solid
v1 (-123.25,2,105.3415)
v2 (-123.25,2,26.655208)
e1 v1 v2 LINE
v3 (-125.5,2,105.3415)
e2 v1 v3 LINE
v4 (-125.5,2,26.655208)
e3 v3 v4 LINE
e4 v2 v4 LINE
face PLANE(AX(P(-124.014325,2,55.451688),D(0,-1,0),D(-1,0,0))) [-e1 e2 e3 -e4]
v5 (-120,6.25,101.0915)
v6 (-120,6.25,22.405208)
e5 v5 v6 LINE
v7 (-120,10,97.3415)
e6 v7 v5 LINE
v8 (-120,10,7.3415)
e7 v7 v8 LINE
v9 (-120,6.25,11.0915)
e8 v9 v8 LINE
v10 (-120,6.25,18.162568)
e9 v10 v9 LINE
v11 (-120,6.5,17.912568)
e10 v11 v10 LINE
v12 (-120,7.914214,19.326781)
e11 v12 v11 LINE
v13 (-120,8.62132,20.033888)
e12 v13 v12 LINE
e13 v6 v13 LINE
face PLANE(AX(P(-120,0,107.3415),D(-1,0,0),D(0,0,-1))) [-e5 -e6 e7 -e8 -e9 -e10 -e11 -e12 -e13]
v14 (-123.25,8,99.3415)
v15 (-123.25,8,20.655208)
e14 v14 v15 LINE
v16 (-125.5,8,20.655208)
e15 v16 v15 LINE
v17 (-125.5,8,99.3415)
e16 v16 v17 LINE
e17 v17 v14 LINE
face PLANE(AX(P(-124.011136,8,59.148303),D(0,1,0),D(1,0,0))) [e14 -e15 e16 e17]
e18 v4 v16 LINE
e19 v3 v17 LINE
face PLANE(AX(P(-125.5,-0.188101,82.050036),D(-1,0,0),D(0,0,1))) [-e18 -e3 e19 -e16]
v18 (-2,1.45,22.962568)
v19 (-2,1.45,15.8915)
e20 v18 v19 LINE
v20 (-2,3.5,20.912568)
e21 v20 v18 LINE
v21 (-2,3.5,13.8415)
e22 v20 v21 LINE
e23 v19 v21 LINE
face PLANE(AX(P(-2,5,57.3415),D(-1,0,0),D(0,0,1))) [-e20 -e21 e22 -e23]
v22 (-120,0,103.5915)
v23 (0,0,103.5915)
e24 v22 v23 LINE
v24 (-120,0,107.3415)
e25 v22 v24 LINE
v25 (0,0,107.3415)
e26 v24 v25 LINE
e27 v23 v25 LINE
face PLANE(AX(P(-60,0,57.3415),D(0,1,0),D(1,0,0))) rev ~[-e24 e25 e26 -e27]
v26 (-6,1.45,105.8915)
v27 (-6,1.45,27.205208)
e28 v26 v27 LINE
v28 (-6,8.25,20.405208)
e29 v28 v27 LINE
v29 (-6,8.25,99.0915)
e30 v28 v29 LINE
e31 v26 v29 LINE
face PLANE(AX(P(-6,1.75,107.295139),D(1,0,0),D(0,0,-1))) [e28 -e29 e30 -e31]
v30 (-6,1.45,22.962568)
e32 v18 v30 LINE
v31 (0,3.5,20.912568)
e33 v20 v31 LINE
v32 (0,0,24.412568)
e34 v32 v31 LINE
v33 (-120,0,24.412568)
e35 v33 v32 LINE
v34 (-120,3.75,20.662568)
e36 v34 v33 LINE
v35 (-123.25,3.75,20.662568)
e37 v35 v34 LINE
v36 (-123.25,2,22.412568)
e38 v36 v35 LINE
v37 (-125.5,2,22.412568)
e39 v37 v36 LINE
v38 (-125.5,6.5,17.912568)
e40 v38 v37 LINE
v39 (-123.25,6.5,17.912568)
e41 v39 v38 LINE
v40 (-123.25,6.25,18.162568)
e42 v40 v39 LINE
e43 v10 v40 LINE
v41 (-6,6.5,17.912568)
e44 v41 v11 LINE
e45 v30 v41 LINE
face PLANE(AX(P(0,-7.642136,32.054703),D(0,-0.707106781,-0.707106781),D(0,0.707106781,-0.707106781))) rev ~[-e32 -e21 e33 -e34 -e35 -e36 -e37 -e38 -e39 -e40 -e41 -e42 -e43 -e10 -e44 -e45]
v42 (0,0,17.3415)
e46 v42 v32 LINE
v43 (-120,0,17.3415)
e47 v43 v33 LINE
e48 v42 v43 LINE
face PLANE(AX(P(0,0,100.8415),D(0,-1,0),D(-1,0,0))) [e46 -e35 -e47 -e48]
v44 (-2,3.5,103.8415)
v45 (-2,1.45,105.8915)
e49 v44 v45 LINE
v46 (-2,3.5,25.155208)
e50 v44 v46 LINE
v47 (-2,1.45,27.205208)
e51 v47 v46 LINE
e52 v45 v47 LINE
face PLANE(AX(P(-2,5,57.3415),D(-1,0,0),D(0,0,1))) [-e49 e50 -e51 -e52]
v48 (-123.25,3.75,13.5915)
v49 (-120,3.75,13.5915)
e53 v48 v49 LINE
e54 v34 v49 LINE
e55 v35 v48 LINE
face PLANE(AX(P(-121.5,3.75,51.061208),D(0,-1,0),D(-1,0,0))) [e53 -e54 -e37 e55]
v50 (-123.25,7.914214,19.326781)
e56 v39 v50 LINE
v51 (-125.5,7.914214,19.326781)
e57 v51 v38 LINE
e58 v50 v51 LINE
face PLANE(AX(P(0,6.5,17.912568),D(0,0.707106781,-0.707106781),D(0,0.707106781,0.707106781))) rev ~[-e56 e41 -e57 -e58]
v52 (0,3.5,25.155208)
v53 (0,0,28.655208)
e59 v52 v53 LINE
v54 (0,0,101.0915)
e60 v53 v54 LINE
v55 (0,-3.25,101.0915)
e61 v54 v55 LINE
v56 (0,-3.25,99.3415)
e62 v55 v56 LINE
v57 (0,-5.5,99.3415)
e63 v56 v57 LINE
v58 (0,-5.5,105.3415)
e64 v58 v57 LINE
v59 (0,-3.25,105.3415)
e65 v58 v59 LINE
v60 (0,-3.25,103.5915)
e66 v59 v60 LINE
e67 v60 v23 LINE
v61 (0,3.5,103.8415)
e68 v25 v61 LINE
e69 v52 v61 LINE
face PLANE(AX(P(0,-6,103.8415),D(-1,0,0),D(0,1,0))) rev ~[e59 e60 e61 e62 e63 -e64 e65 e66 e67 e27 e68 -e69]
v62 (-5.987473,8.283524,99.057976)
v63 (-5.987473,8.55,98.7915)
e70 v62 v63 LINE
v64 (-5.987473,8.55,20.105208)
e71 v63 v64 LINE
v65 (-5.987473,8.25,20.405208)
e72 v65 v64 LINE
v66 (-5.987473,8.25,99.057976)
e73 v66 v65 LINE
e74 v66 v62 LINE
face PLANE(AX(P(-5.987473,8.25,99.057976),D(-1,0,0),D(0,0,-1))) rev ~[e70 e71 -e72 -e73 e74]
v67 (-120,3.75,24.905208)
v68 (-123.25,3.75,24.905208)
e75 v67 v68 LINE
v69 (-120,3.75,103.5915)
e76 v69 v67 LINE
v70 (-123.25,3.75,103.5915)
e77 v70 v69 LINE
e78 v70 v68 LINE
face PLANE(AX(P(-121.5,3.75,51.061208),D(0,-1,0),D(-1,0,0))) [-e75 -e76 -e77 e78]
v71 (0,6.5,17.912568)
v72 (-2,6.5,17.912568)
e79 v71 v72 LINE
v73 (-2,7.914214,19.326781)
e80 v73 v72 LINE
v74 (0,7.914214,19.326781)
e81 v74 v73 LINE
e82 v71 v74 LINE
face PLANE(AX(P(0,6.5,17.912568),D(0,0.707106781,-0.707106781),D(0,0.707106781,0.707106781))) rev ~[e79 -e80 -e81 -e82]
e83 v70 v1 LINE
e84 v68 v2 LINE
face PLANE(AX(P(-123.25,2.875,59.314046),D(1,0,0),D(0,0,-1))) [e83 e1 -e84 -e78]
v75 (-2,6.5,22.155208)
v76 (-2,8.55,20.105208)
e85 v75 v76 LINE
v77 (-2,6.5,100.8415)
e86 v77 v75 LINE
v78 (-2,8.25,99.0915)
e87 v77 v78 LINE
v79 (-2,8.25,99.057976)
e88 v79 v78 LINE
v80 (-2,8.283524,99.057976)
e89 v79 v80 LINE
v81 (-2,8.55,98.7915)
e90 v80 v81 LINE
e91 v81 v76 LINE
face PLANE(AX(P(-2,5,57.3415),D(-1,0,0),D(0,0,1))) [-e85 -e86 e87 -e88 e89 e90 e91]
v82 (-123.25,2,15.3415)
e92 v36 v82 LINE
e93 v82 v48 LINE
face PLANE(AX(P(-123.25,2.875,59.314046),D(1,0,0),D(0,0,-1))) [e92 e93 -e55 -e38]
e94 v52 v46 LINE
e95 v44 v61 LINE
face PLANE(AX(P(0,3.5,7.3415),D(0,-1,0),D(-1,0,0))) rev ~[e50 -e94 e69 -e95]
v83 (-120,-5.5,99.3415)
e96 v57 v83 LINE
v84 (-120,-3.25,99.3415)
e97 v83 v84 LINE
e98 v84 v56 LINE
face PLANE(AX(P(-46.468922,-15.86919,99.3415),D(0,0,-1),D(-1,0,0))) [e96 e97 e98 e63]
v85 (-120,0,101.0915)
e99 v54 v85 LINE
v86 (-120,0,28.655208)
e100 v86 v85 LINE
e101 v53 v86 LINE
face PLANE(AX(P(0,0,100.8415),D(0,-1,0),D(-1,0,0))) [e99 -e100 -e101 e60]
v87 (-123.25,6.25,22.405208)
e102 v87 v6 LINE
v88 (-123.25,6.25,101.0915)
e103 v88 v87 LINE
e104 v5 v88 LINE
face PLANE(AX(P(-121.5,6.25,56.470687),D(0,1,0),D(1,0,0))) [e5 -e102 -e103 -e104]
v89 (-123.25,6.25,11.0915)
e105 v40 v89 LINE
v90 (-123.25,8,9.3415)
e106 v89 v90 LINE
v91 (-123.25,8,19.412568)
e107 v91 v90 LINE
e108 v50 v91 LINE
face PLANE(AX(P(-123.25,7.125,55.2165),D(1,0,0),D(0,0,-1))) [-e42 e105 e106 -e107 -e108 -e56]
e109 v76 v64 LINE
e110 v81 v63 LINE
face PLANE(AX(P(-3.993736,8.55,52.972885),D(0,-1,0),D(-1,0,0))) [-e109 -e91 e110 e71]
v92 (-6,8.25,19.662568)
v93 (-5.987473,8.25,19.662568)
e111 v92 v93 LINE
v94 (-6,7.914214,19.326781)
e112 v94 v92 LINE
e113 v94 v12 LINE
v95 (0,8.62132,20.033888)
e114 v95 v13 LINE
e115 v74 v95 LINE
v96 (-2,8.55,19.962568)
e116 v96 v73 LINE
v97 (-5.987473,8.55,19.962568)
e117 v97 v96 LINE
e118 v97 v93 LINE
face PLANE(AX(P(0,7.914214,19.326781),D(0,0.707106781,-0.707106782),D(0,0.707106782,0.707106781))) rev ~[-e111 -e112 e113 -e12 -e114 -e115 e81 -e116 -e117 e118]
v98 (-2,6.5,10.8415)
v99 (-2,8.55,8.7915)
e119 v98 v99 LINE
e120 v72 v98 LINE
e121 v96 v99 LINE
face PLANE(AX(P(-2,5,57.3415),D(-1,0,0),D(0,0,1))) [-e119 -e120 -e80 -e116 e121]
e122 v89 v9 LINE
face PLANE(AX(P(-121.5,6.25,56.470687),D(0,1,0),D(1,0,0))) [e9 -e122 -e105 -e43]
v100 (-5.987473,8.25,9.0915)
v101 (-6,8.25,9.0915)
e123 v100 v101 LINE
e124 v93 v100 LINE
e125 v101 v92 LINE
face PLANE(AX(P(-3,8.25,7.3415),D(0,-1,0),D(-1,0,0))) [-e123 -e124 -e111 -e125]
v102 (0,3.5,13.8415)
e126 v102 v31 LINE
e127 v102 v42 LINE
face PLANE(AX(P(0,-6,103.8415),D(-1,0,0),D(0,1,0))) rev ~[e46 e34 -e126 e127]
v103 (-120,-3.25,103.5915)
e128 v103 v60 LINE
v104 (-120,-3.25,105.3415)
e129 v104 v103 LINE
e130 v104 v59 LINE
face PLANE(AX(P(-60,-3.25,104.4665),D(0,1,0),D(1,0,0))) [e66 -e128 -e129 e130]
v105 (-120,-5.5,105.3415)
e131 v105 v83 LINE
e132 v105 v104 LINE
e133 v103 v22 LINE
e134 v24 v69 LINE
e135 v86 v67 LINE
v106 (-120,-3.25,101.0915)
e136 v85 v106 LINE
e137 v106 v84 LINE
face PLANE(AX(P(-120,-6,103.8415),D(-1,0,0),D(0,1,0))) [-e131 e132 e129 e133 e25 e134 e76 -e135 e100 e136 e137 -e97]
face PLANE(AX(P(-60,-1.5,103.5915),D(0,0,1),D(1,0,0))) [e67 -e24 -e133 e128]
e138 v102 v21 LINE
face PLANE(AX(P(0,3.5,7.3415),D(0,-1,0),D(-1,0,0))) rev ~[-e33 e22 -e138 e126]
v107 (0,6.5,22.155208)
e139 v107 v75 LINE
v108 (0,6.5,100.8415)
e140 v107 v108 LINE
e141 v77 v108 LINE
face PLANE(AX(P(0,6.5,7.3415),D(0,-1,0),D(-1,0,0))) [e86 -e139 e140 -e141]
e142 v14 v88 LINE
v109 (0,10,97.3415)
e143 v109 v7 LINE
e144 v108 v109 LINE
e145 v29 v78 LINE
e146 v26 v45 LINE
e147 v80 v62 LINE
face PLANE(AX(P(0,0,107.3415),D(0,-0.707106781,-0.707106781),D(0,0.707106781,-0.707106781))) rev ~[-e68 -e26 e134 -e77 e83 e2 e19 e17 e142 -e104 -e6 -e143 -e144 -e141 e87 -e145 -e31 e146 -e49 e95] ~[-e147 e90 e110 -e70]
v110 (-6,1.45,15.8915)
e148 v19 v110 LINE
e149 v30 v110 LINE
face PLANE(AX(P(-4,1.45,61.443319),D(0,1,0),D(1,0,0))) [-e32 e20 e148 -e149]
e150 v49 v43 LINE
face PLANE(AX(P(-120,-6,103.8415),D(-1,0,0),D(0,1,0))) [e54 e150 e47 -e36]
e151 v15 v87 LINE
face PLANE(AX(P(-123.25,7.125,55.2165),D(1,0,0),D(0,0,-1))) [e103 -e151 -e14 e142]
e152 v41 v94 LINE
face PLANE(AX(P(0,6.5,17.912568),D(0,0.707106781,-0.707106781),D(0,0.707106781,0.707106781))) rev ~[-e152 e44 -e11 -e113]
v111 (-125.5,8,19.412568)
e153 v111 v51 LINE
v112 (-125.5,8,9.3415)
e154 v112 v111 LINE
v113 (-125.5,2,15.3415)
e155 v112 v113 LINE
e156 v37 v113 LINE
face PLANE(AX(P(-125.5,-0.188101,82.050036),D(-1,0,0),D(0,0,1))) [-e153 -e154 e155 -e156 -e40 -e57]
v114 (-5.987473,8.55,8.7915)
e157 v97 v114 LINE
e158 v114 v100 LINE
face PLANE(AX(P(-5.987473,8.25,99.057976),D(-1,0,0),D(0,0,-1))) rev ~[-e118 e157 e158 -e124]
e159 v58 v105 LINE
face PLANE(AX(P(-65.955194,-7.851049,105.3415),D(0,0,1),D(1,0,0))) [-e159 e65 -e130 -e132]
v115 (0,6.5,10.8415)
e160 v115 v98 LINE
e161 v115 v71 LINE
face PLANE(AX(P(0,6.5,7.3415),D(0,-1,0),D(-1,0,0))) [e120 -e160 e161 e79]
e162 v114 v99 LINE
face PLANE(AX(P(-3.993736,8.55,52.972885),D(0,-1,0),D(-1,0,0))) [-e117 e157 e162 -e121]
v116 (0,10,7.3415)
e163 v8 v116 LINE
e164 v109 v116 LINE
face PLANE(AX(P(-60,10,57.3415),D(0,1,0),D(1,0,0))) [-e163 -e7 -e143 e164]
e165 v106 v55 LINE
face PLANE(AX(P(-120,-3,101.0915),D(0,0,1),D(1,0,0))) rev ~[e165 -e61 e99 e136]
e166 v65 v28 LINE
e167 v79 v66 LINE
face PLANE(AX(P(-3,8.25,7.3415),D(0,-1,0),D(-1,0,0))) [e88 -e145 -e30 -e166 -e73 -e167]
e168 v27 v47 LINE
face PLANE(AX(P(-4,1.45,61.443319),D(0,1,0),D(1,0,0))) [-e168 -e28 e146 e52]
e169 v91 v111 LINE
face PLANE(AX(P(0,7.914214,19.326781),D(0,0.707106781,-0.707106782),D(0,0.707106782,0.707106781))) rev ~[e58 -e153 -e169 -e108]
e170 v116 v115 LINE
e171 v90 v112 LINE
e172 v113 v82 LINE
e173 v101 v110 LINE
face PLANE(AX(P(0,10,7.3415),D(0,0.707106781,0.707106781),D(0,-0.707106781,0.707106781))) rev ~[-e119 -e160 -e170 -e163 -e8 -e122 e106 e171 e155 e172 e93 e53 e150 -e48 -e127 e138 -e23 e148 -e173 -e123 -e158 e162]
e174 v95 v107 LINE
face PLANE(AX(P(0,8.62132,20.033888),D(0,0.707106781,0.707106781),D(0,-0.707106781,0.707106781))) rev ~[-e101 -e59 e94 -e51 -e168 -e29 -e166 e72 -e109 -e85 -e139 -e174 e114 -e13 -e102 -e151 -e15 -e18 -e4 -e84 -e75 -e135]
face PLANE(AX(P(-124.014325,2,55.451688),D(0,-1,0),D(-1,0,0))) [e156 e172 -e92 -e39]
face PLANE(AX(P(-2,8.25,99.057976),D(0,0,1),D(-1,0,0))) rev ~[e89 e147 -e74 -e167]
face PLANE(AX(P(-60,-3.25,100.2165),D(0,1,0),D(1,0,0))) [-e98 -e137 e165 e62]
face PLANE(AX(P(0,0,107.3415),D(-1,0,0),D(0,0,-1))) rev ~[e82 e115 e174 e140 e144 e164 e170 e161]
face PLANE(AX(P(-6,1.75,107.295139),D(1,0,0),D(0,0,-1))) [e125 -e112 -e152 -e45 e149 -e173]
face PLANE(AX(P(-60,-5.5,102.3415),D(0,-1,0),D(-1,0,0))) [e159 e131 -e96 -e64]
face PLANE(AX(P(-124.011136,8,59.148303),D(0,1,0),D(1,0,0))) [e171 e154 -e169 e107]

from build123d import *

# Parameters (mm, degrees)
SKETCH1_W           = 120
SKETCH1_H           = 100
BOSS_EXTRUDE1_DEPTH = 10
SKETCH2_W           = 6
SKETCH2_H           = 3
CUT_EXTRUDE1_DEPTH  = 120
SKETCH3_W           = 3
SKETCH3_H           = 1.75
CUT_EXTRUDE2_DEPTH  = 120
SKETCH4_W           = 3
SKETCH4_H           = 1.75
CUT_EXTRUDE3_DEPTH  = 120
SKETCH5_W           = 100
SKETCH5_H           = 3
BOSS_EXTRUDE2_DEPTH = 6
SKETCH6_W           = 3
SKETCH6_H           = 100
BOSS_EXTRUDE3_DEPTH = 1.75
SKETCH8_W           = 3
SKETCH8_H           = 100
BOSS_EXTRUDE4_DEPTH = 1.75
CUT_EXTRUDE4_DEPTH  = 140
CUT_EXTRUDE5_DEPTH  = 140
SKETCH12_W          = 120
SKETCH12_H          = 3
BOSS_EXTRUDE5_DEPTH = 6
SKETCH13_W          = 120
SKETCH13_H          = 3
BOSS_EXTRUDE6_DEPTH = 1.75
SKETCH14_W          = 120
SKETCH14_H          = 3
BOSS_EXTRUDE7_DEPTH = 1.75
SKETCH15_W          = 3.971349668
SKETCH15_H          = 100.27962334
CUT_EXTRUDE7_DEPTH  = 0.25
SKETCH16_W          = 3.977727367
SKETCH16_H          = 100.113606744
CUT_EXTRUDE8_DEPTH  = 0.25
SKETCH18_W          = 99.392543401
SKETCH18_H          = 7.459446395
CUT_EXTRUDE9_DEPTH  = 0.25
SKETCH19_W          = 3
SKETCH19_H          = 91.258373497
CUT_EXTRUDE10_DEPTH = 0.25
SKETCH22_W          = 3
SKETCH22_H          = 105.56058455
CUT_EXTRUDE11_DEPTH = 0.25
SKETCH23_W          = 145.417072626
SKETCH23_H          = 16.376201687
CUT_EXTRUDE12_DEPTH = 0.25
SKETCH24_W          = 92.054908244
SKETCH24_H          = 1.75
CUT_EXTRUDE13_DEPTH = 0.25
SKETCH25_W          = 91.75
SKETCH25_H          = 1.75
CUT_EXTRUDE14_DEPTH = 0.25
SKETCH27_W          = 146.123968395
SKETCH27_H          = 10.969132505
CUT_EXTRUDE15_DEPTH = 0.25
SKETCH28_W          = 131.910387722
SKETCH28_H          = 9.70209764
CUT_EXTRUDE16_DEPTH = 0.25
SKETCH29_W          = 147.06215687
SKETCH29_H          = 25.738379838
CUT_EXTRUDE17_DEPTH = 0.25
SKETCH30_W          = 120
SKETCH30_H          = 3
CUT_EXTRUDE18_DEPTH = 0.25
SKETCH31_W          = 120
SKETCH31_H          = 3
CUT_EXTRUDE19_DEPTH = 0.25
SKETCH32_W          = 120
SKETCH32_H          = 1.75
CUT_EXTRUDE20_DEPTH = 0.25
SKETCH33_W          = 120
SKETCH33_H          = 1.75
CUT_EXTRUDE21_DEPTH = 0.25
SKETCH36_W          = 96.5
SKETCH36_H          = 6.5
CUT_EXTRUDE23_DEPTH = 0.5
SKETCH39_W          = 96.5
SKETCH39_H          = 6.5
CUT_EXTRUDE27_DEPTH = 0.5
SKETCH41_W          = 4
SKETCH41_H          = 91.70363903
CUT_EXTRUDE28_DEPTH = 0.3
SKETCH42_W          = 3.987472746
SKETCH42_H          = 92.170181705
CUT_EXTRUDE29_DEPTH = 0.3
CUT_EXTRUDE30_DEPTH = 150
SKETCH44_W          = 120
SKETCH44_H          = 6
CUT_EXTRUDE31_DEPTH = 0.25
CUT_EXTRUDE32_DEPTH = 150


with BuildPart() as part:
    # Sketch1 → Boss-Extrude1 (new body)
    with BuildSketch(Plane(origin=(0, 0, 0), x_dir=(1, 0, 0), z_dir=(0, 1, 0))):
        with Locations((-60, -57.341499956)):
            Rectangle(SKETCH1_W, SKETCH1_H)
    extrude(amount=BOSS_EXTRUDE1_DEPTH)

    # Sketch2 → Cut-Extrude1 (cut)
    with BuildSketch(Plane(origin=(0, 0, 7.341499956), x_dir=(-1, 0, 0), z_dir=(0, 0, -1))):
        with Locations((3, 5)):
            Rectangle(SKETCH2_W, SKETCH2_H)
    extrude(amount=-CUT_EXTRUDE1_DEPTH, mode=Mode.SUBTRACT)

    # Sketch3 → Cut-Extrude2 (cut)
    with BuildSketch(Plane(origin=(0, 0, 7.341499956), x_dir=(-1, 0, 0), z_dir=(0, 0, -1))):
        with Locations((4.5, 7.375)):
            Rectangle(SKETCH3_W, SKETCH3_H)
    extrude(amount=-CUT_EXTRUDE2_DEPTH, mode=Mode.SUBTRACT)

    # Sketch4 → Cut-Extrude3 (cut)
    with BuildSketch(Plane(origin=(0, 0, 7.341499956), x_dir=(-1, 0, 0), z_dir=(0, 0, -1))):
        with Locations((4.5, 2.625)):
            Rectangle(SKETCH4_W, SKETCH4_H)
    extrude(amount=-CUT_EXTRUDE3_DEPTH, mode=Mode.SUBTRACT)

    # Sketch5 → Boss-Extrude2 (add)
    with BuildSketch(Plane.ZY.offset(120)):
        with Locations((57.341499956, 5)):
            Rectangle(SKETCH5_W, SKETCH5_H)
    extrude(amount=BOSS_EXTRUDE2_DEPTH)

    # Sketch6 → Boss-Extrude3 (add)
    with BuildSketch(Plane(origin=(0, 3.5, 0), x_dir=(-1, 0, 0), z_dir=(0, -1, 0))):
        with Locations((124.5, -57.341499956)):
            Rectangle(SKETCH6_W, SKETCH6_H)
    extrude(amount=BOSS_EXTRUDE3_DEPTH)

    # Sketch8 → Boss-Extrude4 (add)
    with BuildSketch(Plane(origin=(0, 6.5, 0), x_dir=(1, 0, 0), z_dir=(0, 1, 0))):
        with Locations((-124.5, -57.341499956)):
            Rectangle(SKETCH8_W, SKETCH8_H)
    extrude(amount=BOSS_EXTRUDE4_DEPTH)

    # Sketch9 → Cut-Extrude4 (cut)
    with BuildSketch(Plane(origin=(0, 0, 0), x_dir=(0, 0, -1), z_dir=(1, 0, 0))):
        Polygon((-7.341499956, 0), (-7.341499956, 10), (-17.341499956, 0), align=None)
    extrude(amount=-CUT_EXTRUDE4_DEPTH, mode=Mode.SUBTRACT)

    # Sketch10 → Cut-Extrude5 (cut)
    with BuildSketch(Plane(origin=(0, 0, 0), x_dir=(0, 0, -1), z_dir=(1, 0, 0))):
        Polygon((-107.341499956, 10), (-107.341499956, 0), (-97.341499956, 10), align=None)
    extrude(amount=-CUT_EXTRUDE5_DEPTH, mode=Mode.SUBTRACT)

    # Sketch12 → Boss-Extrude5 (add)
    with BuildSketch(Plane(origin=(0, 0, 0), x_dir=(-1, 0, 0), z_dir=(0, -1, 0))):
        with Locations((60, -102.341499956)):
            Rectangle(SKETCH12_W, SKETCH12_H)
    extrude(amount=BOSS_EXTRUDE5_DEPTH)

    # Sketch13 → Boss-Extrude6 (add)
    with BuildSketch(Plane(origin=(0, 0, 100.841499956), x_dir=(-1, 0, 0), z_dir=(0, 0, -1))):
        with Locations((60, -4.5)):
            Rectangle(SKETCH13_W, SKETCH13_H)
    extrude(amount=BOSS_EXTRUDE6_DEPTH)

    # Sketch14 → Boss-Extrude7 (add)
    with BuildSketch(Plane.XY.offset(103.841499956)):
        with Locations((-60, -4.5)):
            Rectangle(SKETCH14_W, SKETCH14_H)
    extrude(amount=BOSS_EXTRUDE7_DEPTH)

    # Sketch15 → Cut-Extrude7 (cut)
    with BuildSketch(Plane(origin=(0, 1.75, 0), x_dir=(-1, 0, 0), z_dir=(0, -1, 0))):
        with Locations((124.014325166, -55.451688286)):
            Rectangle(SKETCH15_W, SKETCH15_H)
    extrude(amount=-CUT_EXTRUDE7_DEPTH, mode=Mode.SUBTRACT)

    # Sketch16 → Cut-Extrude8 (cut)
    with BuildSketch(Plane(origin=(0, 8.25, 0), x_dir=(1, 0, 0), z_dir=(0, 1, 0))):
        with Locations((-124.011136317, -59.148303328)):
            Rectangle(SKETCH16_W, SKETCH16_H)
    extrude(amount=-CUT_EXTRUDE8_DEPTH, mode=Mode.SUBTRACT)

    # Sketch18 → Cut-Extrude9 (cut)
    with BuildSketch(Plane.ZY.offset(126)):
        with Locations((55.645228256, 5.729723198)):
            Rectangle(SKETCH18_W, SKETCH18_H)
    extrude(amount=-CUT_EXTRUDE9_DEPTH, mode=Mode.SUBTRACT)

    # Sketch19 → Cut-Extrude10 (cut)
    with BuildSketch(Plane(origin=(0, 6.5, 0), x_dir=(1, 0, 0), z_dir=(0, 1, 0))):
        with Locations((-121.5, -56.470686704)):
            Rectangle(SKETCH19_W, SKETCH19_H)
    extrude(amount=-CUT_EXTRUDE10_DEPTH, mode=Mode.SUBTRACT)

    # Sketch22 → Cut-Extrude11 (cut)
    with BuildSketch(Plane(origin=(0, 3.5, 0), x_dir=(-1, 0, 0), z_dir=(0, -1, 0))):
        with Locations((121.5, -51.061207681)):
            Rectangle(SKETCH22_W, SKETCH22_H)
    extrude(amount=-CUT_EXTRUDE11_DEPTH, mode=Mode.SUBTRACT)

    # Sketch23 → Cut-Extrude12 (cut)
    with BuildSketch(Plane.ZY.offset(125.75)):
        with Locations((82.050036269, -0.188100844)):
            Rectangle(SKETCH23_W, SKETCH23_H)
    extrude(amount=-CUT_EXTRUDE12_DEPTH, mode=Mode.SUBTRACT)

    # Sketch24 → Cut-Extrude13 (cut)
    with BuildSketch(Plane(origin=(-123, 0, 0), x_dir=(0, 0, -1), z_dir=(1, 0, 0))):
        with Locations((-59.314045834, 2.875)):
            Rectangle(SKETCH24_W, SKETCH24_H)
    extrude(amount=-CUT_EXTRUDE13_DEPTH, mode=Mode.SUBTRACT)

    # Sketch25 → Cut-Extrude14 (cut)
    with BuildSketch(Plane(origin=(-123, 0, 0), x_dir=(0, 0, -1), z_dir=(1, 0, 0))):
        with Locations((-55.216499956, 7.125)):
            Rectangle(SKETCH25_W, SKETCH25_H)
    extrude(amount=-CUT_EXTRUDE14_DEPTH, mode=Mode.SUBTRACT)

    # Sketch27 → Cut-Extrude15 (cut)
    with BuildSketch(Plane(origin=(0, -6, 0), x_dir=(-1, 0, 0), z_dir=(0, -1, 0))):
        with Locations((46.938015803, -100.106933704)):
            Rectangle(SKETCH27_W, SKETCH27_H)
    extrude(amount=-CUT_EXTRUDE15_DEPTH, mode=Mode.SUBTRACT)

    # Sketch28 → Cut-Extrude16 (cut)
    with BuildSketch(Plane.XY.offset(105.591499956)):
        with Locations((-65.955193861, -7.85104882)):
            Rectangle(SKETCH28_W, SKETCH28_H)
    extrude(amount=-CUT_EXTRUDE16_DEPTH, mode=Mode.SUBTRACT)

    # Sketch29 → Cut-Extrude17 (cut)
    with BuildSketch(Plane(origin=(0, 0, 99.091499956), x_dir=(-1, 0, 0), z_dir=(0, 0, -1))):
        with Locations((46.468921565, -15.869189919)):
            Rectangle(SKETCH29_W, SKETCH29_H)
    extrude(amount=-CUT_EXTRUDE17_DEPTH, mode=Mode.SUBTRACT)

    # Sketch30 → Cut-Extrude18 (cut)
    with BuildSketch(Plane(origin=(0, 0, 100.841499956), x_dir=(-1, 0, 0), z_dir=(0, 0, -1))):
        with Locations((60, -1.5)):
            Rectangle(SKETCH30_W, SKETCH30_H)
    extrude(amount=-CUT_EXTRUDE18_DEPTH, mode=Mode.SUBTRACT)

    # Sketch31 → Cut-Extrude19 (cut)
    with BuildSketch(Plane.XY.offset(103.841499956)):
        with Locations((-60, -1.5)):
            Rectangle(SKETCH31_W, SKETCH31_H)
    extrude(amount=-CUT_EXTRUDE19_DEPTH, mode=Mode.SUBTRACT)

    # Sketch32 → Cut-Extrude20 (cut)
    with BuildSketch(Plane(origin=(0, -3, 0), x_dir=(1, 0, 0), z_dir=(0, 1, 0))):
        with Locations((-60, -104.466499956)):
            Rectangle(SKETCH32_W, SKETCH32_H)
    extrude(amount=-CUT_EXTRUDE20_DEPTH, mode=Mode.SUBTRACT)

    # Sketch33 → Cut-Extrude21 (cut)
    with BuildSketch(Plane(origin=(0, -3, 0), x_dir=(1, 0, 0), z_dir=(0, 1, 0))):
        with Locations((-60, -100.216499956)):
            Rectangle(SKETCH33_W, SKETCH33_H)
    extrude(amount=-CUT_EXTRUDE21_DEPTH, mode=Mode.SUBTRACT)

    # Sketch36 → Cut-Extrude23 (cut)
    with BuildSketch(Plane.ZY.offset(3)):
        with Locations((57.341499956, 5)):
            Rectangle(SKETCH36_W, SKETCH36_H)
    extrude(amount=-CUT_EXTRUDE23_DEPTH, mode=Mode.SUBTRACT)

    # Sketch39 → Cut-Extrude27 (cut)
    with BuildSketch(Plane.ZY.offset(2.5)):
        with Locations((57.341499956, 5)):
            Rectangle(SKETCH39_W, SKETCH39_H)
    extrude(amount=-CUT_EXTRUDE27_DEPTH, mode=Mode.SUBTRACT)

    # Sketch41 → Cut-Extrude28 (cut)
    with BuildSketch(Plane(origin=(0, 1.75, 0), x_dir=(1, 0, 0), z_dir=(0, 1, 0))):
        with Locations((-4, -61.443319471)):
            Rectangle(SKETCH41_W, SKETCH41_H)
    extrude(amount=-CUT_EXTRUDE28_DEPTH, mode=Mode.SUBTRACT)

    # Sketch42 → Cut-Extrude29 (cut)
    with BuildSketch(Plane(origin=(0, 8.25, 0), x_dir=(-1, 0, 0), z_dir=(0, -1, 0))):
        with Locations((3.993736373, -52.972884842)):
            Rectangle(SKETCH42_W, SKETCH42_H)
    extrude(amount=-CUT_EXTRUDE29_DEPTH, mode=Mode.SUBTRACT)

    # Sketch43 → Cut-Extrude30 (cut)
    with BuildSketch(Plane(origin=(0, 0, 0), x_dir=(0, 0, -1), z_dir=(1, 0, 0))):
        Polygon((-19.32678133, 7.914213562), (-33.468916954, -6.227922061), (-32.054703391, -7.642135624), (-17.912567767, 6.5), align=None)
    extrude(amount=-CUT_EXTRUDE30_DEPTH, mode=Mode.SUBTRACT)

    # Sketch44 → Cut-Extrude31 (cut)
    with BuildSketch(Plane(origin=(0, -5.75, 0), x_dir=(-1, 0, 0), z_dir=(0, -1, 0))):
        with Locations((60, -102.341499956)):
            Rectangle(SKETCH44_W, SKETCH44_H)
    extrude(amount=-CUT_EXTRUDE31_DEPTH, mode=Mode.SUBTRACT)

    # Sketch45 → Cut-Extrude32 (cut)
    with BuildSketch(Plane(origin=(0, 0, 0), x_dir=(0, 0, -1), z_dir=(1, 0, 0))):
        Polygon((-19.32678133, 7.914213562), (-20.033888111, 8.621320344), (-29.487832781, -0.832624327), (-28.780726, -1.539731108), align=None)
    extrude(amount=-CUT_EXTRUDE32_DEPTH, mode=Mode.SUBTRACT)


solid = part.part
